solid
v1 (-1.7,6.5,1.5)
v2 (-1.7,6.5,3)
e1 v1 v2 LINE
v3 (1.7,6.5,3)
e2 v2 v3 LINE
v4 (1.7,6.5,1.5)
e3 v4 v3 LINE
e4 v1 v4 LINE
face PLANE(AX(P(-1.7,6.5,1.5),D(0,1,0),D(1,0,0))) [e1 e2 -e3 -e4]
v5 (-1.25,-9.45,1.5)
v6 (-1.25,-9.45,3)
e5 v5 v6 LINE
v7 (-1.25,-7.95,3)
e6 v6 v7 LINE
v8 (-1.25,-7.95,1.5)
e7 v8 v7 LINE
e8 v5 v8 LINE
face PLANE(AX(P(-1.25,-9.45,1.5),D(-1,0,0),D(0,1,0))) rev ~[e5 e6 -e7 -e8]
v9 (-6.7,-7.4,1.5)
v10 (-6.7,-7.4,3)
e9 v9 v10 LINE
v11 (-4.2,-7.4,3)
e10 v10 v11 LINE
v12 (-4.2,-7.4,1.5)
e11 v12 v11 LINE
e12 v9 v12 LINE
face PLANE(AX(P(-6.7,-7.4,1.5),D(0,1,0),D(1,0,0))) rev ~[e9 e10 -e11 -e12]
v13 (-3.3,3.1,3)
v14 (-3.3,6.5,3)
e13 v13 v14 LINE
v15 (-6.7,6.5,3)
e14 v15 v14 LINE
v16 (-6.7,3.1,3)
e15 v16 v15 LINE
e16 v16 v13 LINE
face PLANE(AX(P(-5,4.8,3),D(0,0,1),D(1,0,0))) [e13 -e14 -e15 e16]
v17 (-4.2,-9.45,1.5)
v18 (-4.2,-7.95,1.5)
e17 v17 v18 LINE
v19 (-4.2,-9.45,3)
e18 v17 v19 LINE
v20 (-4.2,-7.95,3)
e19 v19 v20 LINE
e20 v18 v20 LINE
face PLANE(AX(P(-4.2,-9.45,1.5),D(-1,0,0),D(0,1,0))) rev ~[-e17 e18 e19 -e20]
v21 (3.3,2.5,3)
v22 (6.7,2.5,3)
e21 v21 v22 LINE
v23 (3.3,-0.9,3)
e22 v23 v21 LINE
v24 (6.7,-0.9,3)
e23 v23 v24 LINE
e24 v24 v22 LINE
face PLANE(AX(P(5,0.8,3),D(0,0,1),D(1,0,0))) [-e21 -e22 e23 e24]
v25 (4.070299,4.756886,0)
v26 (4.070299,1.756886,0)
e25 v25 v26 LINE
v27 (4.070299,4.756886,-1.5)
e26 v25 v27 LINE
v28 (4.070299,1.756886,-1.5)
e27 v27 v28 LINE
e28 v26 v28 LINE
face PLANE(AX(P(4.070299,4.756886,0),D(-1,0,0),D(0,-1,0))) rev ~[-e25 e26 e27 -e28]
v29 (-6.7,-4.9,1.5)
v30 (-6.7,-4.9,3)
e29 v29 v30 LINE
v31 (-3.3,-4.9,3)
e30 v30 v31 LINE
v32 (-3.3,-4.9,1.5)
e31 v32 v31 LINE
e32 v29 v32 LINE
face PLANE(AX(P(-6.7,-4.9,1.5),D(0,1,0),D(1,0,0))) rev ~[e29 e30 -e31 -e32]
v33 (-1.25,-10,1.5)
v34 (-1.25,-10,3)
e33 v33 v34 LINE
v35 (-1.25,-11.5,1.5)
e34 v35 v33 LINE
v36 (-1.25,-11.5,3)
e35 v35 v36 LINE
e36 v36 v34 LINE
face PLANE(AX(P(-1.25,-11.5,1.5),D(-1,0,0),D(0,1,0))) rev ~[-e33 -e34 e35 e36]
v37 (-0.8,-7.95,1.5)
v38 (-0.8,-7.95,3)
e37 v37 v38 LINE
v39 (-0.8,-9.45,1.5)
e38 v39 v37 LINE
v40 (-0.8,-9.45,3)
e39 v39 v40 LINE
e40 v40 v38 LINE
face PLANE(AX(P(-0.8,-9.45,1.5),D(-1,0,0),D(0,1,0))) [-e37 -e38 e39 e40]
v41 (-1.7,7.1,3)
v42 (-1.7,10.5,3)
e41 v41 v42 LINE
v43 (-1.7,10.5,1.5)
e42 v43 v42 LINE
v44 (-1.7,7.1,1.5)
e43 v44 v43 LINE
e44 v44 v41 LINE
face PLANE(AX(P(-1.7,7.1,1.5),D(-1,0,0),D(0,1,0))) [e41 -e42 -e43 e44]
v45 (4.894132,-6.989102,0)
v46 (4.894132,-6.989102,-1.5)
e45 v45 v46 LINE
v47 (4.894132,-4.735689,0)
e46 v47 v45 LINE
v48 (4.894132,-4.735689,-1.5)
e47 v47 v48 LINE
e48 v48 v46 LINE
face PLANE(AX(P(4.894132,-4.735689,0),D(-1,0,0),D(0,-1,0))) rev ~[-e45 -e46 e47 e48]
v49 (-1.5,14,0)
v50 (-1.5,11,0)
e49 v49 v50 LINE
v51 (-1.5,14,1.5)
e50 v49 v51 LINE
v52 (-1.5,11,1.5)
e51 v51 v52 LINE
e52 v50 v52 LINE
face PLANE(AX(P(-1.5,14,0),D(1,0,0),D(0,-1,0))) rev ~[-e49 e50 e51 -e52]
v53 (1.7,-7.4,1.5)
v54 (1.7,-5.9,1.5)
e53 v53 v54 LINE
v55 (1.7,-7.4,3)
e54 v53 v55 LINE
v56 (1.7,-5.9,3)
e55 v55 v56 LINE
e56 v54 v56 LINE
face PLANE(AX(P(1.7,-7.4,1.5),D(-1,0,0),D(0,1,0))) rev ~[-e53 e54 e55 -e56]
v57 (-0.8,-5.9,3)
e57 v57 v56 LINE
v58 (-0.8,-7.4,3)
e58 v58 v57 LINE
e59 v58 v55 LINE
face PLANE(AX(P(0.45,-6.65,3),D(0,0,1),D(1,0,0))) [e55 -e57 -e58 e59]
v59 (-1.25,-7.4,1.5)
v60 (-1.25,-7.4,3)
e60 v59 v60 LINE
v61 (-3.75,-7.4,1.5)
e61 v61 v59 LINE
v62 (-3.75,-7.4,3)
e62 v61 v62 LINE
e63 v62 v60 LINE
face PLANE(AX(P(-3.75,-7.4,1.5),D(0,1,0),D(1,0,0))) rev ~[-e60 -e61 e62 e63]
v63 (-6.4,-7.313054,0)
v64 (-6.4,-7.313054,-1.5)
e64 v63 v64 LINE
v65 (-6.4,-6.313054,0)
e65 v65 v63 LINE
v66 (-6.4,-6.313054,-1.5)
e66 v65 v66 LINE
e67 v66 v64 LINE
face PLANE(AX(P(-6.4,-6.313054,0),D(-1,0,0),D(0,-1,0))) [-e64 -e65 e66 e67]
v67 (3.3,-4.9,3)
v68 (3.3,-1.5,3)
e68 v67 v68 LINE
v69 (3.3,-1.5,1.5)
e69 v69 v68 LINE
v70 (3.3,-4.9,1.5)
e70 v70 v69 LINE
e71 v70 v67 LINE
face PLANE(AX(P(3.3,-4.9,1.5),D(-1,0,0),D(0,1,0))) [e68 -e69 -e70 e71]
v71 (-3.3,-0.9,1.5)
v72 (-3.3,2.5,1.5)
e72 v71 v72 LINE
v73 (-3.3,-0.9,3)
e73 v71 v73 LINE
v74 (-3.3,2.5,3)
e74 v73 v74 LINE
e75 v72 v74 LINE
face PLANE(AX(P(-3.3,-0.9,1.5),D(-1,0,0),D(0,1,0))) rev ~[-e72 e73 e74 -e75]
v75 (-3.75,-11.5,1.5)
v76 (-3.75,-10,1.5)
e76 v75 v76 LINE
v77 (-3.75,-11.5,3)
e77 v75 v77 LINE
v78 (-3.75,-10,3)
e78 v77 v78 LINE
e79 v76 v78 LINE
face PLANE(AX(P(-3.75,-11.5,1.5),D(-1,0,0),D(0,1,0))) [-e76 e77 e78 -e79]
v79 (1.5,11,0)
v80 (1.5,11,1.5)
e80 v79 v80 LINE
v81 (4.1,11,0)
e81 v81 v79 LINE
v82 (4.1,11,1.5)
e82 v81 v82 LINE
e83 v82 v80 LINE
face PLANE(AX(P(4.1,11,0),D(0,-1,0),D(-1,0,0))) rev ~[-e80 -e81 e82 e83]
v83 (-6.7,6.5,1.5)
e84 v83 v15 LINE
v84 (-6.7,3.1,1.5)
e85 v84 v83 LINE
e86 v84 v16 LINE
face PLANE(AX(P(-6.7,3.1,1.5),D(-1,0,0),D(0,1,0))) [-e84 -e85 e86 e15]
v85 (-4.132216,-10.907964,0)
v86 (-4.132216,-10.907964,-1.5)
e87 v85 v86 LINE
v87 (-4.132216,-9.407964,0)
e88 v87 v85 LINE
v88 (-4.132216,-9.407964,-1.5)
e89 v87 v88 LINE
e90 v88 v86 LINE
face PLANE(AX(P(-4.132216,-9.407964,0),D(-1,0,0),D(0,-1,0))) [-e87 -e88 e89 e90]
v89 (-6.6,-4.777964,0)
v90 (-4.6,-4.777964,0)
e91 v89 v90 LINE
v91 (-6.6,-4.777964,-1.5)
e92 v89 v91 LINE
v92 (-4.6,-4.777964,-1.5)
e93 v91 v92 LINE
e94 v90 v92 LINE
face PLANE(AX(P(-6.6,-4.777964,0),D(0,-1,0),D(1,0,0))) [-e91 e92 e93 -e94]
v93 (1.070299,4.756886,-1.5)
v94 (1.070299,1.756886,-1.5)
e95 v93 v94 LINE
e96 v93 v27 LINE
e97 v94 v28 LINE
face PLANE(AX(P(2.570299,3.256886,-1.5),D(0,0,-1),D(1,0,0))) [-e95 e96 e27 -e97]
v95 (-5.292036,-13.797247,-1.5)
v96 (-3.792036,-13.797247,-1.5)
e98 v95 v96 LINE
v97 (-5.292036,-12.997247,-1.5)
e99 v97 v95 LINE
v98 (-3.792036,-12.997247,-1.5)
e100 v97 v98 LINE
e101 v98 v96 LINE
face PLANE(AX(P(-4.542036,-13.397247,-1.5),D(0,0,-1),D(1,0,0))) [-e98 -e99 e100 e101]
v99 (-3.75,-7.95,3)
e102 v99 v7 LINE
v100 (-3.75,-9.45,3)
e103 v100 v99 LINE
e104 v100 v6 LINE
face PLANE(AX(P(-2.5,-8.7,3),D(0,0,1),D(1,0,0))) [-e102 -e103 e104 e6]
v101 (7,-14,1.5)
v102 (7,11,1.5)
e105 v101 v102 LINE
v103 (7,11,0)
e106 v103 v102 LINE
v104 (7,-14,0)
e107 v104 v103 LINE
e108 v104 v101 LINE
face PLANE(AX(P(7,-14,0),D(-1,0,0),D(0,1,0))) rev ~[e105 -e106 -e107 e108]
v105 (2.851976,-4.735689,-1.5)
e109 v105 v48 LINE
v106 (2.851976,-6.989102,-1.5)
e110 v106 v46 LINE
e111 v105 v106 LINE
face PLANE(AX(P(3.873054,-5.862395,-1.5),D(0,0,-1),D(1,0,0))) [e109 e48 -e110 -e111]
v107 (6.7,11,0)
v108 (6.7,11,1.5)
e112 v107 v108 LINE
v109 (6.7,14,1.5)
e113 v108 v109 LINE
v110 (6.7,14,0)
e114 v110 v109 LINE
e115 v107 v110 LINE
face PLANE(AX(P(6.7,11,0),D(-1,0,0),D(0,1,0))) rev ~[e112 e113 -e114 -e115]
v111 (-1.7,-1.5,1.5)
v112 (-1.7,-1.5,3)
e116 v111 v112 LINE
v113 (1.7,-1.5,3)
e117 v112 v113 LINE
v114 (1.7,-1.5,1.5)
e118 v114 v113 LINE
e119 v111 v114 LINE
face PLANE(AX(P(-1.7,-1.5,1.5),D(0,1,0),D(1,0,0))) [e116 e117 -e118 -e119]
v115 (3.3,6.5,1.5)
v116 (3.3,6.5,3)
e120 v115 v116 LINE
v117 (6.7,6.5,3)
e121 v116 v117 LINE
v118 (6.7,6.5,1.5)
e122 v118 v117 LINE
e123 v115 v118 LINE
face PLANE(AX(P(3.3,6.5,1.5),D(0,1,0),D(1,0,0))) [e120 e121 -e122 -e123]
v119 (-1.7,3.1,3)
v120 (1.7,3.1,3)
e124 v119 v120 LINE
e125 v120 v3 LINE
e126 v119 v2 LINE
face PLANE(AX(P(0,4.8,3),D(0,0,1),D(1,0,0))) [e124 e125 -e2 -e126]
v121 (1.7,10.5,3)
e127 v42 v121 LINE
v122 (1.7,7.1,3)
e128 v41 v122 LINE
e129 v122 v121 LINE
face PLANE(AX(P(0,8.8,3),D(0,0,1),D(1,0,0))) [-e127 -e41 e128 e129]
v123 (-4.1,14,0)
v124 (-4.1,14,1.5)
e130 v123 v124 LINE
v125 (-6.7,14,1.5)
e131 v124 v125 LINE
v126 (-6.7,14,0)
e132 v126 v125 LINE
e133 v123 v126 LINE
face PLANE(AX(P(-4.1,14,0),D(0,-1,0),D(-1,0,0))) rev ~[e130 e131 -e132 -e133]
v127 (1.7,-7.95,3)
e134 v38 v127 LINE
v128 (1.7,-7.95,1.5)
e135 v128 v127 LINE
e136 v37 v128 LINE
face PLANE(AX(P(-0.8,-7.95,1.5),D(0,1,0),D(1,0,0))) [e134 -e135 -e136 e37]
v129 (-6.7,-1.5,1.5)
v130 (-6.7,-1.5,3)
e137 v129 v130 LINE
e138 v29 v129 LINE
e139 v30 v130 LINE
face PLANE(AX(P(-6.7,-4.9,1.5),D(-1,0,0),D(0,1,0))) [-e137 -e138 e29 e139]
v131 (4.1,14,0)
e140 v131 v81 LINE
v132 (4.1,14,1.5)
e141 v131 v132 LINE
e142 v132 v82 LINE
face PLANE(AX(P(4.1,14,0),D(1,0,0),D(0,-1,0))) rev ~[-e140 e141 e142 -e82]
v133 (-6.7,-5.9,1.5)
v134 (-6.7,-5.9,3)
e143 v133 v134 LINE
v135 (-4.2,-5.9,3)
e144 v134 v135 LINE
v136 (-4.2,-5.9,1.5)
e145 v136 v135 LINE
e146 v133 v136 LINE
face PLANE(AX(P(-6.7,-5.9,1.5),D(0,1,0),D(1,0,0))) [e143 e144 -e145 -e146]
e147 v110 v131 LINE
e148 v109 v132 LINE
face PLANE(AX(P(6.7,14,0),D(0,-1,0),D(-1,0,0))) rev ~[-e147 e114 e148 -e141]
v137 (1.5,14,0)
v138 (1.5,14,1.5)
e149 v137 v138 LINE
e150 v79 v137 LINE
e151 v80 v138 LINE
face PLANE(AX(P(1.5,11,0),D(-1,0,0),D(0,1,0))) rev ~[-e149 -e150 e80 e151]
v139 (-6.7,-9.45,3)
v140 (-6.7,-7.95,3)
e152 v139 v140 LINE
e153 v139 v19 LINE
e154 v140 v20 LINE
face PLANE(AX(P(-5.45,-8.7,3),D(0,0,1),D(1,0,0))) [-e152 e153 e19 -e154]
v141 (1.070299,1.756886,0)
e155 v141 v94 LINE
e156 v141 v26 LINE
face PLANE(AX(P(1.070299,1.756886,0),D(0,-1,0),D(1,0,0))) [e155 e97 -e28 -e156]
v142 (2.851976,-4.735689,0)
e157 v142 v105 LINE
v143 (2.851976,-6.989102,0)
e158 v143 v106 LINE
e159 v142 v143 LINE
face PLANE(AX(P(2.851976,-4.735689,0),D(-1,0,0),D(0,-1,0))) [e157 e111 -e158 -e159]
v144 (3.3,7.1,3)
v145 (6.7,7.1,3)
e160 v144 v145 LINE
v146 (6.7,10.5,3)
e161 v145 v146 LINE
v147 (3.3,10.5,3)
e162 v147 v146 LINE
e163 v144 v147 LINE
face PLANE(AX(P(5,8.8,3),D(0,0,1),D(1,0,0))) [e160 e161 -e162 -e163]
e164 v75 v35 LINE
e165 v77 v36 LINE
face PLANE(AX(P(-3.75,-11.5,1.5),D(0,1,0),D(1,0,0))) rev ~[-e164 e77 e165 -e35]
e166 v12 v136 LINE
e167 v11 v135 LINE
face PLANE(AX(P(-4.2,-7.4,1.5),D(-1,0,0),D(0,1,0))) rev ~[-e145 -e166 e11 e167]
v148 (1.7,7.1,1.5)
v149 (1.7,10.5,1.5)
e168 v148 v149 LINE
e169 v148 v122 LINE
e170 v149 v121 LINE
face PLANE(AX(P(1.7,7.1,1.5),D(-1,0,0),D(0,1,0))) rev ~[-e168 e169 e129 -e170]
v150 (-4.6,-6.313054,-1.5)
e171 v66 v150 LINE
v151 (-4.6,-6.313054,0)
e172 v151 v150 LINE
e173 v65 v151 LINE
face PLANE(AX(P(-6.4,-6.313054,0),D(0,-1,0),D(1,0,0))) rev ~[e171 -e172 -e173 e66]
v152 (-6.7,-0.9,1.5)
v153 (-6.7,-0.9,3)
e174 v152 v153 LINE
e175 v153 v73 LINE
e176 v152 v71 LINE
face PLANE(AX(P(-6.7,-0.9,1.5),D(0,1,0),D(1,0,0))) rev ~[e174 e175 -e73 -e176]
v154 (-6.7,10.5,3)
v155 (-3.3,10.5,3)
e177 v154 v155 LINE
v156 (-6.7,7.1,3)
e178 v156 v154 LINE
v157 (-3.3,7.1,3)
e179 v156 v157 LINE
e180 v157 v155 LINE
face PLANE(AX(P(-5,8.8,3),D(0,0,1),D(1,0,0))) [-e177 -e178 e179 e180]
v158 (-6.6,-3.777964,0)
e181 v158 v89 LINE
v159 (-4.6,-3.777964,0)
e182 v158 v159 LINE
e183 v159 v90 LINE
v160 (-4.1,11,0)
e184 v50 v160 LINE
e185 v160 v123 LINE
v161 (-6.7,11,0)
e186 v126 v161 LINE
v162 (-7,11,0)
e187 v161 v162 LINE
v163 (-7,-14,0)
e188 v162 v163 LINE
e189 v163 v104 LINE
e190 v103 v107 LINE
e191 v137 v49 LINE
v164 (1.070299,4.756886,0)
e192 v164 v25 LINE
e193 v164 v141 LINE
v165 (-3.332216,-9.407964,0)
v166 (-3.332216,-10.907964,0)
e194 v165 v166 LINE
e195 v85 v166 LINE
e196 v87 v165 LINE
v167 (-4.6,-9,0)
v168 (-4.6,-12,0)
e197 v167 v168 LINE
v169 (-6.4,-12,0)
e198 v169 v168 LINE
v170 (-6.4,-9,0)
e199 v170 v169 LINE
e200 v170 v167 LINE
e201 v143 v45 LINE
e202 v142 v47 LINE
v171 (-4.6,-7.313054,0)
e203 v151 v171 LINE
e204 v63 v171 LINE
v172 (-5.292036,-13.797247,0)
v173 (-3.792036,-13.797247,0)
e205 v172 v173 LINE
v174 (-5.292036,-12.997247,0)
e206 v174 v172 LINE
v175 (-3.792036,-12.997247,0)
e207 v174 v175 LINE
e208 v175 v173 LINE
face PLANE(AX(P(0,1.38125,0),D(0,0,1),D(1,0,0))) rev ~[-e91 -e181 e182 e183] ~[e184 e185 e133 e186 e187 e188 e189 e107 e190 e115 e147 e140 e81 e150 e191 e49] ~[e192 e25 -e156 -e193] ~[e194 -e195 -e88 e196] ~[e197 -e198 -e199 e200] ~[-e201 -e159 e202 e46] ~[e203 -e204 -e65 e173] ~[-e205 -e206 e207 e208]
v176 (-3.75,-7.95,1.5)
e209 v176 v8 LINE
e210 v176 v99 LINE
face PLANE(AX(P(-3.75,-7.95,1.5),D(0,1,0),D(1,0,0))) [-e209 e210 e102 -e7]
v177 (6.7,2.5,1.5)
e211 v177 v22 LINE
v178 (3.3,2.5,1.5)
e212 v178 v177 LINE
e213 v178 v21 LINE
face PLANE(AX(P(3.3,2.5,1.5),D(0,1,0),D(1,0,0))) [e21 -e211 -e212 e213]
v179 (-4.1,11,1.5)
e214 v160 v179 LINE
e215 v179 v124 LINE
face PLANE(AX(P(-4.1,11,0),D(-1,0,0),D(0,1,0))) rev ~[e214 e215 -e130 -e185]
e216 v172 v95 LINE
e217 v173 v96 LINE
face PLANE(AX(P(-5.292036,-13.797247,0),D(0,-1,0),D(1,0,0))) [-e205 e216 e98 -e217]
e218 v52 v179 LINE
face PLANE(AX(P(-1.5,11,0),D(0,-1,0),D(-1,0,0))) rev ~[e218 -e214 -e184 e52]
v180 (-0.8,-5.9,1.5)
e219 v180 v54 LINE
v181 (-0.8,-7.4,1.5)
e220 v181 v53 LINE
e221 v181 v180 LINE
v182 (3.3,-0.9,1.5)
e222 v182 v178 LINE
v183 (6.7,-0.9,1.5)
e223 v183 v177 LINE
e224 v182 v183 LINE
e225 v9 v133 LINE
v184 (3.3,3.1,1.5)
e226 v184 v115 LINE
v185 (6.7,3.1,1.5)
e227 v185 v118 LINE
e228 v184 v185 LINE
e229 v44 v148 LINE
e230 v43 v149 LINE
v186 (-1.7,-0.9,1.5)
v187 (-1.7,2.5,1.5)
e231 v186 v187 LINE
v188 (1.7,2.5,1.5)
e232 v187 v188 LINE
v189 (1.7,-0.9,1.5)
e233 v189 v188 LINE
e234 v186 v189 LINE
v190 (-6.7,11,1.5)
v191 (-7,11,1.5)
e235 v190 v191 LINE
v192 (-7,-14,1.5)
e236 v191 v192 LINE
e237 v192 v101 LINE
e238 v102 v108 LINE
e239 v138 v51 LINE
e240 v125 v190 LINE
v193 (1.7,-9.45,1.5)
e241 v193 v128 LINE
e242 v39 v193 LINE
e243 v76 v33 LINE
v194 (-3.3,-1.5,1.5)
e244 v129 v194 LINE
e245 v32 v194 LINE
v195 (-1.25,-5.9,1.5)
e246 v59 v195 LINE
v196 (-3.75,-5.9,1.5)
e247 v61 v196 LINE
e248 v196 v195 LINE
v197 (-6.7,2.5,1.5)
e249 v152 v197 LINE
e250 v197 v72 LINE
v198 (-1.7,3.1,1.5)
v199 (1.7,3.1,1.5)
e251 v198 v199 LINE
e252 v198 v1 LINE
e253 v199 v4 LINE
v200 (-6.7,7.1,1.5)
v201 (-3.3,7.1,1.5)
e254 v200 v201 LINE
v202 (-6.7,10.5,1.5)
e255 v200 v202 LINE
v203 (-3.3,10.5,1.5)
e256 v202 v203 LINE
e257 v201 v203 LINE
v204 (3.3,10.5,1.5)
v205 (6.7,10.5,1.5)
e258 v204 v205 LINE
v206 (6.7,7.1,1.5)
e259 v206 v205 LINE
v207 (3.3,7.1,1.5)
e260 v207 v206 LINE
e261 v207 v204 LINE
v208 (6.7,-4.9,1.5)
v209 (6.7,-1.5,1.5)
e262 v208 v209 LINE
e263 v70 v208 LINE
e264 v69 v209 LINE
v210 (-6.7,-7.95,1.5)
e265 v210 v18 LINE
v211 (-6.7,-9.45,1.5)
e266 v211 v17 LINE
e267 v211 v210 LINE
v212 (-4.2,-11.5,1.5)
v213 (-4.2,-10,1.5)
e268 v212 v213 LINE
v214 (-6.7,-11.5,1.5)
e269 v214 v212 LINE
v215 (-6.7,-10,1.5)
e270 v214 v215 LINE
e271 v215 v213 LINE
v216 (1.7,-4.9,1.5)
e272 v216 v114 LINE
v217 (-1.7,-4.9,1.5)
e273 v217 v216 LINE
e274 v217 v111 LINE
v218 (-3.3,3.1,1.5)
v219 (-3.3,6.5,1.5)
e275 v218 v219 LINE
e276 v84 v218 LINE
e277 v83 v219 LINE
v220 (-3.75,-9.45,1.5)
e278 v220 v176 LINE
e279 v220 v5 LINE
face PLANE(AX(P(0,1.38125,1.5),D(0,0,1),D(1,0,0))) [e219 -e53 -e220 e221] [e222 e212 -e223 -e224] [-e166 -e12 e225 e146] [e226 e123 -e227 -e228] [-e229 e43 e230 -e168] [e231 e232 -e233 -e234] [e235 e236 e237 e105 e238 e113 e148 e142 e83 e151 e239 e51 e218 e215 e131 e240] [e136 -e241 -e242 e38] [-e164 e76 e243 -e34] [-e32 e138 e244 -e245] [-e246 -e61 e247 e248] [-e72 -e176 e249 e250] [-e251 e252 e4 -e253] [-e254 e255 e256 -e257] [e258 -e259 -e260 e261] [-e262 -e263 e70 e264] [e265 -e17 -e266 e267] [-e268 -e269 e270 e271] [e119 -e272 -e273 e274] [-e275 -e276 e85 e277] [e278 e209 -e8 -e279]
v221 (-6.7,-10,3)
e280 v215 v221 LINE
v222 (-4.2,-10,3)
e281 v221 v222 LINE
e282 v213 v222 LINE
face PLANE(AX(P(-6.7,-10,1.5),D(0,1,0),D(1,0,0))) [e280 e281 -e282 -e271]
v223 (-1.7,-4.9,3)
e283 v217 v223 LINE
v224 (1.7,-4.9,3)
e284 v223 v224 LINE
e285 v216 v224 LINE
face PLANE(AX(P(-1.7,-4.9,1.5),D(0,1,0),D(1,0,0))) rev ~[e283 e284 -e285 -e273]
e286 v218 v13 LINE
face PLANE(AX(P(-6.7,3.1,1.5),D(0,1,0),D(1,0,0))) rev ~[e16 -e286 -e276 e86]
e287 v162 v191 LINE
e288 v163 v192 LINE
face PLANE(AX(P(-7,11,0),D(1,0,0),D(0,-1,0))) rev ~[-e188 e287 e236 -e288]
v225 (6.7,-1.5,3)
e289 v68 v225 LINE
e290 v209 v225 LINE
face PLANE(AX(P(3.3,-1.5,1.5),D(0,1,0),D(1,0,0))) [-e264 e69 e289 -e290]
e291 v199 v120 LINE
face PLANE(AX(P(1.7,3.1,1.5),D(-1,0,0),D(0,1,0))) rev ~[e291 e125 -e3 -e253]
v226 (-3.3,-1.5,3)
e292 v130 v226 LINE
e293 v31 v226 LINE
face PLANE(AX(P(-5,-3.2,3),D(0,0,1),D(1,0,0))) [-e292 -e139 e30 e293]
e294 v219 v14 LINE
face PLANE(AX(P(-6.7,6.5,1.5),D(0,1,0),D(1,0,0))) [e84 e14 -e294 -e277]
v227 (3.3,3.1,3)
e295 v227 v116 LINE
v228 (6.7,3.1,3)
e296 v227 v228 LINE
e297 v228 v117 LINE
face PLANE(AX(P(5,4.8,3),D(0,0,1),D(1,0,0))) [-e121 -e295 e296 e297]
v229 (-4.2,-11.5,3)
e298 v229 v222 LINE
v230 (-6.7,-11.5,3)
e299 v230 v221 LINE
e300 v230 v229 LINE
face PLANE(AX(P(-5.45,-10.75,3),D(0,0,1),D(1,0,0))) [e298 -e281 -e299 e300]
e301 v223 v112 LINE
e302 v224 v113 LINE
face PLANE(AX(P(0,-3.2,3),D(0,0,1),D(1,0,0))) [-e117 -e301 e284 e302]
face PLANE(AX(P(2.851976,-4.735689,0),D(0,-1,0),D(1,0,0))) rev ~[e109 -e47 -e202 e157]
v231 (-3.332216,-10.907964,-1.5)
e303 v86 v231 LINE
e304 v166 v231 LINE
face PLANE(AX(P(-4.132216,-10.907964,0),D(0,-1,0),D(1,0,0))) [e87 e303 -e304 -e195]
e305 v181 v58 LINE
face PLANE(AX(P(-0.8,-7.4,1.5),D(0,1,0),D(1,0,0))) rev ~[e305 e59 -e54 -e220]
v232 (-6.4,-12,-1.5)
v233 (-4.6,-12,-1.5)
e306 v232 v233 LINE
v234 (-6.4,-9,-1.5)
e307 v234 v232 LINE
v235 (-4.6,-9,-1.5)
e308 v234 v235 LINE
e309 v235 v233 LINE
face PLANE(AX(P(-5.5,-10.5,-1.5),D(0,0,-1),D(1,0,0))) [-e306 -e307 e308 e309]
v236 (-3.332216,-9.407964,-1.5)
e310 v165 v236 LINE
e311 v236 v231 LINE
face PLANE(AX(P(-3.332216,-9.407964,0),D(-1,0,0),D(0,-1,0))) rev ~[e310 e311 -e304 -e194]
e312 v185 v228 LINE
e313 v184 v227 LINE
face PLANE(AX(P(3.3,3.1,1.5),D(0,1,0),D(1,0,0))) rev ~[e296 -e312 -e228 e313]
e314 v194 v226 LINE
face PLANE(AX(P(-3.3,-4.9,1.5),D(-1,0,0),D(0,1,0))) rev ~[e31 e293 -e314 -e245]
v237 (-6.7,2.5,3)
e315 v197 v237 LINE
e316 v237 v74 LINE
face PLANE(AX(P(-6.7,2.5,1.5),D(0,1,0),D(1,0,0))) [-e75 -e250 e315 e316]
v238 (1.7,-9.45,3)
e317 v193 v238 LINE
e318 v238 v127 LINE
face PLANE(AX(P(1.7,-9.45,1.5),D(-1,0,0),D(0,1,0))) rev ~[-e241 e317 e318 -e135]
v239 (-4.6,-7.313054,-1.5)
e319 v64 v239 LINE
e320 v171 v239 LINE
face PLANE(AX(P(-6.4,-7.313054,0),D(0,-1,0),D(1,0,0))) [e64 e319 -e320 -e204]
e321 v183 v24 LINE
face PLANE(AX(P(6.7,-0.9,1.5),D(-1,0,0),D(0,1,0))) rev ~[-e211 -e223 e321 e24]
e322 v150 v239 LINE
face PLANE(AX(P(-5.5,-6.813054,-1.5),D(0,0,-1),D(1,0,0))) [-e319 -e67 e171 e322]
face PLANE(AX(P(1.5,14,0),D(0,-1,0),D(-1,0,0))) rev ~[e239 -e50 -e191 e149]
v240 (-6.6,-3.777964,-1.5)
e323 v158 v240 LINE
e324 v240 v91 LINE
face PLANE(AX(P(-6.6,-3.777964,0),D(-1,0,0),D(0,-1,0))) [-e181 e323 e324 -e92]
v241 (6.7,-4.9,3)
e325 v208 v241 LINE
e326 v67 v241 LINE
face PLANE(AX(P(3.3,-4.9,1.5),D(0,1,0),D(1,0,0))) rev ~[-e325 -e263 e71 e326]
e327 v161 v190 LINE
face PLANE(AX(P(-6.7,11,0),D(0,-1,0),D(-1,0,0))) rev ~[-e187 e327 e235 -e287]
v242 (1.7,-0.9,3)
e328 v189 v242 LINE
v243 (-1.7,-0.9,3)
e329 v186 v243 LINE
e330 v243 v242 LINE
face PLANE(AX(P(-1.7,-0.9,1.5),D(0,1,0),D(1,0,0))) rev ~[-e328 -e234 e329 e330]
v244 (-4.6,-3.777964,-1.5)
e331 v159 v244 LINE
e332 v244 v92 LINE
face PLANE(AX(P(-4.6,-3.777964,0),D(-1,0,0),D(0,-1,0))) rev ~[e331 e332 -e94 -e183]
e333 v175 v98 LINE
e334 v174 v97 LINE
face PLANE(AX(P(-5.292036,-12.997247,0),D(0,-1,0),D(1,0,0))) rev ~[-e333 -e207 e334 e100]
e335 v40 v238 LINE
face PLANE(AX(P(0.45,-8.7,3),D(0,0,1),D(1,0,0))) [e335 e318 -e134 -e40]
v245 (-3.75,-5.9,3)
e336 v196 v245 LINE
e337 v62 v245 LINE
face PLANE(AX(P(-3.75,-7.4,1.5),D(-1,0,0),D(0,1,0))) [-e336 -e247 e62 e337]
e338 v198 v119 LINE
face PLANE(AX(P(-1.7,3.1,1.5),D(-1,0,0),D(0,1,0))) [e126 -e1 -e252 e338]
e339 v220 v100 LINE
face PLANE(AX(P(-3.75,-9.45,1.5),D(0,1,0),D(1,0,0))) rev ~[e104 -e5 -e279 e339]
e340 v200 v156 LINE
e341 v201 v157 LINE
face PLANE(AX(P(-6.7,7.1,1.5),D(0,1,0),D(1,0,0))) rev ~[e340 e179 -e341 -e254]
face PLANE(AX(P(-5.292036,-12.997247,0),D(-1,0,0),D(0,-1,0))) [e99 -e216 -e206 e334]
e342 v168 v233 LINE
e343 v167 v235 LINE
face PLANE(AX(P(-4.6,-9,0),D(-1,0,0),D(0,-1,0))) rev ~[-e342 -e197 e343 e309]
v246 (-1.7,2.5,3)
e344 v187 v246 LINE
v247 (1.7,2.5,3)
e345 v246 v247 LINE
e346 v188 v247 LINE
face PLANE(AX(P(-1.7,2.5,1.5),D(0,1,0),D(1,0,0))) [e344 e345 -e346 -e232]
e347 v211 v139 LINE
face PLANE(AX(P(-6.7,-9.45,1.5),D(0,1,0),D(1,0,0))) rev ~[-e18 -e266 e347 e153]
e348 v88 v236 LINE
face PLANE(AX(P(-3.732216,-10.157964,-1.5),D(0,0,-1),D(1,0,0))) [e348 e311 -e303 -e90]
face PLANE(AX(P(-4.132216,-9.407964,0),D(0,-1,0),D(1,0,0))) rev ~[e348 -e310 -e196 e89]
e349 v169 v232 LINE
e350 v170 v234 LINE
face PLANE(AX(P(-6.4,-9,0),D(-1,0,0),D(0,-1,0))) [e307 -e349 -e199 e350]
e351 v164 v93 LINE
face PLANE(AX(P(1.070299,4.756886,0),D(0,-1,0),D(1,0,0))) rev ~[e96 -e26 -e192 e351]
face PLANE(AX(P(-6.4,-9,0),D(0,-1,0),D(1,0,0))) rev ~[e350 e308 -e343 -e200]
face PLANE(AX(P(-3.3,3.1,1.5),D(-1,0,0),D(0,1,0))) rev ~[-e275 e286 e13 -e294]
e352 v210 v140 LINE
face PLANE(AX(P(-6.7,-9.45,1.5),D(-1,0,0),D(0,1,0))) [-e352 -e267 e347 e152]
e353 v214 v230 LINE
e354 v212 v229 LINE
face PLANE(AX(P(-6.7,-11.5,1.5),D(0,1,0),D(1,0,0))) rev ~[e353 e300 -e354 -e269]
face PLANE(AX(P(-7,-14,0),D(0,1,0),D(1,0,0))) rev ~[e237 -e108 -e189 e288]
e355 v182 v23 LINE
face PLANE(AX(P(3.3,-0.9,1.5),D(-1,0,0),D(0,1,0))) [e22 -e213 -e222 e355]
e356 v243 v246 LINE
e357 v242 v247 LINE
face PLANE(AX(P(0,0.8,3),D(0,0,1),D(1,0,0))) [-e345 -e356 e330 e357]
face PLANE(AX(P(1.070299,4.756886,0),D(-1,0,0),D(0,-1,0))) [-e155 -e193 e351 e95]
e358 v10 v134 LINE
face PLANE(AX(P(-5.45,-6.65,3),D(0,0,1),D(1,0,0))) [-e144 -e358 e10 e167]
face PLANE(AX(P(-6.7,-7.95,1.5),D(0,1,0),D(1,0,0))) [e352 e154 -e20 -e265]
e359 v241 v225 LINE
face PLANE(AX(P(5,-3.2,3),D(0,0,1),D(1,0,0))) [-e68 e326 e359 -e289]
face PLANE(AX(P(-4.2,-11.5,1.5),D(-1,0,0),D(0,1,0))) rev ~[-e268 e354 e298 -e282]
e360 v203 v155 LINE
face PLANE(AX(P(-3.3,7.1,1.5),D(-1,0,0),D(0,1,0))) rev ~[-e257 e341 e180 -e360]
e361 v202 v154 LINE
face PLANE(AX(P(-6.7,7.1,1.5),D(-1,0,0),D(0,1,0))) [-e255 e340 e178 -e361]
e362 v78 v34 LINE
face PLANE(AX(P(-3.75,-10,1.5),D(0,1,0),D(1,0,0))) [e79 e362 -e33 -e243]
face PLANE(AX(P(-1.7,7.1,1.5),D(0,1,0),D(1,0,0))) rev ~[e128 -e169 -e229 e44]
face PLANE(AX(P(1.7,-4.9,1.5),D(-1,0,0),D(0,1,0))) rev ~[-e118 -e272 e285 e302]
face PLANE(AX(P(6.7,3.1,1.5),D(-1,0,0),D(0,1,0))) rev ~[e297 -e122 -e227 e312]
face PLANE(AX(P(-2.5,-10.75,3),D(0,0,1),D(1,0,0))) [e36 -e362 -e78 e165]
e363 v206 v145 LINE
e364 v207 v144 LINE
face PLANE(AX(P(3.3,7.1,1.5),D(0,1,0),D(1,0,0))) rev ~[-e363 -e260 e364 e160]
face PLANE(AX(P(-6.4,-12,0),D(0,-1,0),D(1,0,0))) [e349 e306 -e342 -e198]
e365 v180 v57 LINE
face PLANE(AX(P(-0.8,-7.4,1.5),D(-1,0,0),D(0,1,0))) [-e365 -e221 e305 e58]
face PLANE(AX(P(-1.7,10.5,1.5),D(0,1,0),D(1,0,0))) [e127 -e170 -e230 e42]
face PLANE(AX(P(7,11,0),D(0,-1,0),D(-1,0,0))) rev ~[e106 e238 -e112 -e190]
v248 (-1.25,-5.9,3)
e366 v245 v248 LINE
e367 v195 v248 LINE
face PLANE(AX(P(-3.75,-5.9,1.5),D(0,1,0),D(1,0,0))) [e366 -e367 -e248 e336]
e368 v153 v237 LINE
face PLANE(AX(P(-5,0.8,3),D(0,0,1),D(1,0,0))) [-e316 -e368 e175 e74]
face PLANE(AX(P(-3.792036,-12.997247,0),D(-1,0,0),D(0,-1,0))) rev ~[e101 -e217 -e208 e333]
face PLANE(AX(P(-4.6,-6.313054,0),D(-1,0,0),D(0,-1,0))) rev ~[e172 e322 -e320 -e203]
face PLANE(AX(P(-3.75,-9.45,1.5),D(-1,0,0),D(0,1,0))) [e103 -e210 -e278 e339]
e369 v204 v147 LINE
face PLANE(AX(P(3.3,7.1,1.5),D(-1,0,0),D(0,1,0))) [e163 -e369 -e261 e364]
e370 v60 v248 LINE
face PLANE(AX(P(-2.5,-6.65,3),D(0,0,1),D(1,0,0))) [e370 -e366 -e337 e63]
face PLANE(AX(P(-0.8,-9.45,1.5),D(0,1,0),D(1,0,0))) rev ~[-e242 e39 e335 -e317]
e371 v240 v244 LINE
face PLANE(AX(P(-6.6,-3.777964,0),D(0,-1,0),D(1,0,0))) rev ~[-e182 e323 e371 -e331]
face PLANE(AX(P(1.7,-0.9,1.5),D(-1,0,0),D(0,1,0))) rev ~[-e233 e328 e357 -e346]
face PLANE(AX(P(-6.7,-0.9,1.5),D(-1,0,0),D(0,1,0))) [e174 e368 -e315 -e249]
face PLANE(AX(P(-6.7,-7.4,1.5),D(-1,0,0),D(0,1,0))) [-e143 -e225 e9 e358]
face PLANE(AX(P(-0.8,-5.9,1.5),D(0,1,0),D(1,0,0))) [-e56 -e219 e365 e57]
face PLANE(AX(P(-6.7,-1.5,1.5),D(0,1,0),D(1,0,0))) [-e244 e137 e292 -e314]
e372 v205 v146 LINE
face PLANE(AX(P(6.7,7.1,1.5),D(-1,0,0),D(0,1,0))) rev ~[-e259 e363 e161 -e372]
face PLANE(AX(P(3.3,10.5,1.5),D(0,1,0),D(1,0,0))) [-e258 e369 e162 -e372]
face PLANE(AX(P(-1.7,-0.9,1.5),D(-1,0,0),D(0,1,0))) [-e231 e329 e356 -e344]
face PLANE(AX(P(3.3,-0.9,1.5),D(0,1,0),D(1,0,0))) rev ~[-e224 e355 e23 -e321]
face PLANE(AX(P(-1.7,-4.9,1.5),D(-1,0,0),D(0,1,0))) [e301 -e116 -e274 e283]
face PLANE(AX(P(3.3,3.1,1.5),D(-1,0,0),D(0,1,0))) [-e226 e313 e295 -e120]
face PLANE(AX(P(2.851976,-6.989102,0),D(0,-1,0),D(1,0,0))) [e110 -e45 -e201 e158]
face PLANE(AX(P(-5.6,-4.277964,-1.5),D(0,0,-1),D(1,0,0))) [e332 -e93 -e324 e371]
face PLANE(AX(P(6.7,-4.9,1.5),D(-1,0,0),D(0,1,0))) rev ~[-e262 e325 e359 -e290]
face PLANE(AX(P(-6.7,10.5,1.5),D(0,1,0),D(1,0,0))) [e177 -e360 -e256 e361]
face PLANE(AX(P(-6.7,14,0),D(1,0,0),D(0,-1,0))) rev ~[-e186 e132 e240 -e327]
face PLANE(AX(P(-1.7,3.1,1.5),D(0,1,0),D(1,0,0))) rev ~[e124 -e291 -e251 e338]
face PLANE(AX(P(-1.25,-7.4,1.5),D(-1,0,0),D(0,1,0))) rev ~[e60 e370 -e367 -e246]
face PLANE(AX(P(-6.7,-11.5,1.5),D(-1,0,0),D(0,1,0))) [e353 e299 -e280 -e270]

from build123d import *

# Parameters (mm, degrees)
F1_DEPTH = 1.5
F3_W     = 3.4
F3_H     = 3.4
F3_W_2   = 2.5
F3_H_2   = 1.5
F4_DEPTH = 1.5
F5_W     = 3
F5_H     = 3
F5_W_2   = 2.042156
F5_H_2   = 2.253413
F5_W_3   = 1.8
F5_H_3   = 1
F5_W_4   = 2
F5_W_5   = 0.8
F5_H_4   = 1.5
F5_W_6   = 1.5
F5_H_5   = 0.8
F6_DEPTH = 1.5


with BuildPart() as f1:
    # F0 (on Top) → F1 (new body)
    with BuildSketch(Plane.XY):
        Polygon((-7, -14), (7, -14), (7, 11), (6.7, 11), (6.7, 14), (4.1, 14), (4.1, 11), (1.5, 11), (1.5, 14), (-1.5, 14), (-1.5, 11), (-4.1, 11), (-4.1, 14), (-6.7, 14), (-6.7, 11), (-7, 11), align=None)
    extrude(amount=F1_DEPTH)

    # F3 (on face) → F4 (join)
    with BuildSketch(Plane.XY.offset(1.5)):
        with Locations((-5, 8.8)):
            Rectangle(F3_W, F3_H)
        with Locations((-5, 4.8)):
            Rectangle(F3_W, F3_H)
        with Locations((-5, 0.8)):
            Rectangle(F3_W, F3_H)
        with Locations((-5, -3.2)):
            Rectangle(F3_W, F3_H)
        with Locations((0, 8.8)):
            Rectangle(F3_W, F3_H)
        with Locations((0, 4.8)):
            Rectangle(F3_W, F3_H)
        with Locations((0, 0.8)):
            Rectangle(F3_W, F3_H)
        with Locations((0, -3.2)):
            Rectangle(F3_W, F3_H)
        with Locations((5, 8.8)):
            Rectangle(F3_W, F3_H)
        with Locations((5, 4.8)):
            Rectangle(F3_W, F3_H)
        with Locations((5, 0.8)):
            Rectangle(F3_W, F3_H)
        with Locations((5, -3.2)):
            Rectangle(F3_W, F3_H)
        with Locations((-5.45, -6.65)):
            Rectangle(F3_W_2, F3_H_2)
        with Locations((-5.45, -8.7)):
            Rectangle(F3_W_2, F3_H_2)
        with Locations((-2.5, -6.65)):
            Rectangle(F3_W_2, F3_H_2)
        with Locations((-2.5, -8.7)):
            Rectangle(F3_W_2, F3_H_2)
        with Locations((0.45, -6.65)):
            Rectangle(F3_W_2, F3_H_2)
        with Locations((0.45, -8.7)):
            Rectangle(F3_W_2, F3_H_2)
        with Locations((-5.45, -10.75)):
            Rectangle(F3_W_2, F3_H_2)
        with Locations((-2.5, -10.75)):
            Rectangle(F3_W_2, F3_H_2)
    extrude(amount=F4_DEPTH)

    # F5 (on face) → F6 (join)
    with BuildSketch(Plane(origin=(0, 0, 0), x_dir=(1, 0, 0), z_dir=(0, 0, -1))):
        with Locations((2.570299, -3.256886)):
            Rectangle(F5_W, F5_H)
        with Locations((3.873054, 5.862395)):
            Rectangle(F5_W_2, F5_H_2)
        with Locations((-5.5, 10.5)):
            Rectangle(F5_W_3, F5_H)
        with Locations((-5.5, 6.813054)):
            Rectangle(F5_W_3, F5_H_3)
        with Locations((-5.6, 4.277964)):
            Rectangle(F5_W_4, F5_H_3)
        with Locations((-3.732216, 10.157964)):
            Rectangle(F5_W_5, F5_H_4)
        with Locations((-4.542036, 13.397247)):
            Rectangle(F5_W_6, F5_H_5)
    extrude(amount=F6_DEPTH)


solid = f1.part
